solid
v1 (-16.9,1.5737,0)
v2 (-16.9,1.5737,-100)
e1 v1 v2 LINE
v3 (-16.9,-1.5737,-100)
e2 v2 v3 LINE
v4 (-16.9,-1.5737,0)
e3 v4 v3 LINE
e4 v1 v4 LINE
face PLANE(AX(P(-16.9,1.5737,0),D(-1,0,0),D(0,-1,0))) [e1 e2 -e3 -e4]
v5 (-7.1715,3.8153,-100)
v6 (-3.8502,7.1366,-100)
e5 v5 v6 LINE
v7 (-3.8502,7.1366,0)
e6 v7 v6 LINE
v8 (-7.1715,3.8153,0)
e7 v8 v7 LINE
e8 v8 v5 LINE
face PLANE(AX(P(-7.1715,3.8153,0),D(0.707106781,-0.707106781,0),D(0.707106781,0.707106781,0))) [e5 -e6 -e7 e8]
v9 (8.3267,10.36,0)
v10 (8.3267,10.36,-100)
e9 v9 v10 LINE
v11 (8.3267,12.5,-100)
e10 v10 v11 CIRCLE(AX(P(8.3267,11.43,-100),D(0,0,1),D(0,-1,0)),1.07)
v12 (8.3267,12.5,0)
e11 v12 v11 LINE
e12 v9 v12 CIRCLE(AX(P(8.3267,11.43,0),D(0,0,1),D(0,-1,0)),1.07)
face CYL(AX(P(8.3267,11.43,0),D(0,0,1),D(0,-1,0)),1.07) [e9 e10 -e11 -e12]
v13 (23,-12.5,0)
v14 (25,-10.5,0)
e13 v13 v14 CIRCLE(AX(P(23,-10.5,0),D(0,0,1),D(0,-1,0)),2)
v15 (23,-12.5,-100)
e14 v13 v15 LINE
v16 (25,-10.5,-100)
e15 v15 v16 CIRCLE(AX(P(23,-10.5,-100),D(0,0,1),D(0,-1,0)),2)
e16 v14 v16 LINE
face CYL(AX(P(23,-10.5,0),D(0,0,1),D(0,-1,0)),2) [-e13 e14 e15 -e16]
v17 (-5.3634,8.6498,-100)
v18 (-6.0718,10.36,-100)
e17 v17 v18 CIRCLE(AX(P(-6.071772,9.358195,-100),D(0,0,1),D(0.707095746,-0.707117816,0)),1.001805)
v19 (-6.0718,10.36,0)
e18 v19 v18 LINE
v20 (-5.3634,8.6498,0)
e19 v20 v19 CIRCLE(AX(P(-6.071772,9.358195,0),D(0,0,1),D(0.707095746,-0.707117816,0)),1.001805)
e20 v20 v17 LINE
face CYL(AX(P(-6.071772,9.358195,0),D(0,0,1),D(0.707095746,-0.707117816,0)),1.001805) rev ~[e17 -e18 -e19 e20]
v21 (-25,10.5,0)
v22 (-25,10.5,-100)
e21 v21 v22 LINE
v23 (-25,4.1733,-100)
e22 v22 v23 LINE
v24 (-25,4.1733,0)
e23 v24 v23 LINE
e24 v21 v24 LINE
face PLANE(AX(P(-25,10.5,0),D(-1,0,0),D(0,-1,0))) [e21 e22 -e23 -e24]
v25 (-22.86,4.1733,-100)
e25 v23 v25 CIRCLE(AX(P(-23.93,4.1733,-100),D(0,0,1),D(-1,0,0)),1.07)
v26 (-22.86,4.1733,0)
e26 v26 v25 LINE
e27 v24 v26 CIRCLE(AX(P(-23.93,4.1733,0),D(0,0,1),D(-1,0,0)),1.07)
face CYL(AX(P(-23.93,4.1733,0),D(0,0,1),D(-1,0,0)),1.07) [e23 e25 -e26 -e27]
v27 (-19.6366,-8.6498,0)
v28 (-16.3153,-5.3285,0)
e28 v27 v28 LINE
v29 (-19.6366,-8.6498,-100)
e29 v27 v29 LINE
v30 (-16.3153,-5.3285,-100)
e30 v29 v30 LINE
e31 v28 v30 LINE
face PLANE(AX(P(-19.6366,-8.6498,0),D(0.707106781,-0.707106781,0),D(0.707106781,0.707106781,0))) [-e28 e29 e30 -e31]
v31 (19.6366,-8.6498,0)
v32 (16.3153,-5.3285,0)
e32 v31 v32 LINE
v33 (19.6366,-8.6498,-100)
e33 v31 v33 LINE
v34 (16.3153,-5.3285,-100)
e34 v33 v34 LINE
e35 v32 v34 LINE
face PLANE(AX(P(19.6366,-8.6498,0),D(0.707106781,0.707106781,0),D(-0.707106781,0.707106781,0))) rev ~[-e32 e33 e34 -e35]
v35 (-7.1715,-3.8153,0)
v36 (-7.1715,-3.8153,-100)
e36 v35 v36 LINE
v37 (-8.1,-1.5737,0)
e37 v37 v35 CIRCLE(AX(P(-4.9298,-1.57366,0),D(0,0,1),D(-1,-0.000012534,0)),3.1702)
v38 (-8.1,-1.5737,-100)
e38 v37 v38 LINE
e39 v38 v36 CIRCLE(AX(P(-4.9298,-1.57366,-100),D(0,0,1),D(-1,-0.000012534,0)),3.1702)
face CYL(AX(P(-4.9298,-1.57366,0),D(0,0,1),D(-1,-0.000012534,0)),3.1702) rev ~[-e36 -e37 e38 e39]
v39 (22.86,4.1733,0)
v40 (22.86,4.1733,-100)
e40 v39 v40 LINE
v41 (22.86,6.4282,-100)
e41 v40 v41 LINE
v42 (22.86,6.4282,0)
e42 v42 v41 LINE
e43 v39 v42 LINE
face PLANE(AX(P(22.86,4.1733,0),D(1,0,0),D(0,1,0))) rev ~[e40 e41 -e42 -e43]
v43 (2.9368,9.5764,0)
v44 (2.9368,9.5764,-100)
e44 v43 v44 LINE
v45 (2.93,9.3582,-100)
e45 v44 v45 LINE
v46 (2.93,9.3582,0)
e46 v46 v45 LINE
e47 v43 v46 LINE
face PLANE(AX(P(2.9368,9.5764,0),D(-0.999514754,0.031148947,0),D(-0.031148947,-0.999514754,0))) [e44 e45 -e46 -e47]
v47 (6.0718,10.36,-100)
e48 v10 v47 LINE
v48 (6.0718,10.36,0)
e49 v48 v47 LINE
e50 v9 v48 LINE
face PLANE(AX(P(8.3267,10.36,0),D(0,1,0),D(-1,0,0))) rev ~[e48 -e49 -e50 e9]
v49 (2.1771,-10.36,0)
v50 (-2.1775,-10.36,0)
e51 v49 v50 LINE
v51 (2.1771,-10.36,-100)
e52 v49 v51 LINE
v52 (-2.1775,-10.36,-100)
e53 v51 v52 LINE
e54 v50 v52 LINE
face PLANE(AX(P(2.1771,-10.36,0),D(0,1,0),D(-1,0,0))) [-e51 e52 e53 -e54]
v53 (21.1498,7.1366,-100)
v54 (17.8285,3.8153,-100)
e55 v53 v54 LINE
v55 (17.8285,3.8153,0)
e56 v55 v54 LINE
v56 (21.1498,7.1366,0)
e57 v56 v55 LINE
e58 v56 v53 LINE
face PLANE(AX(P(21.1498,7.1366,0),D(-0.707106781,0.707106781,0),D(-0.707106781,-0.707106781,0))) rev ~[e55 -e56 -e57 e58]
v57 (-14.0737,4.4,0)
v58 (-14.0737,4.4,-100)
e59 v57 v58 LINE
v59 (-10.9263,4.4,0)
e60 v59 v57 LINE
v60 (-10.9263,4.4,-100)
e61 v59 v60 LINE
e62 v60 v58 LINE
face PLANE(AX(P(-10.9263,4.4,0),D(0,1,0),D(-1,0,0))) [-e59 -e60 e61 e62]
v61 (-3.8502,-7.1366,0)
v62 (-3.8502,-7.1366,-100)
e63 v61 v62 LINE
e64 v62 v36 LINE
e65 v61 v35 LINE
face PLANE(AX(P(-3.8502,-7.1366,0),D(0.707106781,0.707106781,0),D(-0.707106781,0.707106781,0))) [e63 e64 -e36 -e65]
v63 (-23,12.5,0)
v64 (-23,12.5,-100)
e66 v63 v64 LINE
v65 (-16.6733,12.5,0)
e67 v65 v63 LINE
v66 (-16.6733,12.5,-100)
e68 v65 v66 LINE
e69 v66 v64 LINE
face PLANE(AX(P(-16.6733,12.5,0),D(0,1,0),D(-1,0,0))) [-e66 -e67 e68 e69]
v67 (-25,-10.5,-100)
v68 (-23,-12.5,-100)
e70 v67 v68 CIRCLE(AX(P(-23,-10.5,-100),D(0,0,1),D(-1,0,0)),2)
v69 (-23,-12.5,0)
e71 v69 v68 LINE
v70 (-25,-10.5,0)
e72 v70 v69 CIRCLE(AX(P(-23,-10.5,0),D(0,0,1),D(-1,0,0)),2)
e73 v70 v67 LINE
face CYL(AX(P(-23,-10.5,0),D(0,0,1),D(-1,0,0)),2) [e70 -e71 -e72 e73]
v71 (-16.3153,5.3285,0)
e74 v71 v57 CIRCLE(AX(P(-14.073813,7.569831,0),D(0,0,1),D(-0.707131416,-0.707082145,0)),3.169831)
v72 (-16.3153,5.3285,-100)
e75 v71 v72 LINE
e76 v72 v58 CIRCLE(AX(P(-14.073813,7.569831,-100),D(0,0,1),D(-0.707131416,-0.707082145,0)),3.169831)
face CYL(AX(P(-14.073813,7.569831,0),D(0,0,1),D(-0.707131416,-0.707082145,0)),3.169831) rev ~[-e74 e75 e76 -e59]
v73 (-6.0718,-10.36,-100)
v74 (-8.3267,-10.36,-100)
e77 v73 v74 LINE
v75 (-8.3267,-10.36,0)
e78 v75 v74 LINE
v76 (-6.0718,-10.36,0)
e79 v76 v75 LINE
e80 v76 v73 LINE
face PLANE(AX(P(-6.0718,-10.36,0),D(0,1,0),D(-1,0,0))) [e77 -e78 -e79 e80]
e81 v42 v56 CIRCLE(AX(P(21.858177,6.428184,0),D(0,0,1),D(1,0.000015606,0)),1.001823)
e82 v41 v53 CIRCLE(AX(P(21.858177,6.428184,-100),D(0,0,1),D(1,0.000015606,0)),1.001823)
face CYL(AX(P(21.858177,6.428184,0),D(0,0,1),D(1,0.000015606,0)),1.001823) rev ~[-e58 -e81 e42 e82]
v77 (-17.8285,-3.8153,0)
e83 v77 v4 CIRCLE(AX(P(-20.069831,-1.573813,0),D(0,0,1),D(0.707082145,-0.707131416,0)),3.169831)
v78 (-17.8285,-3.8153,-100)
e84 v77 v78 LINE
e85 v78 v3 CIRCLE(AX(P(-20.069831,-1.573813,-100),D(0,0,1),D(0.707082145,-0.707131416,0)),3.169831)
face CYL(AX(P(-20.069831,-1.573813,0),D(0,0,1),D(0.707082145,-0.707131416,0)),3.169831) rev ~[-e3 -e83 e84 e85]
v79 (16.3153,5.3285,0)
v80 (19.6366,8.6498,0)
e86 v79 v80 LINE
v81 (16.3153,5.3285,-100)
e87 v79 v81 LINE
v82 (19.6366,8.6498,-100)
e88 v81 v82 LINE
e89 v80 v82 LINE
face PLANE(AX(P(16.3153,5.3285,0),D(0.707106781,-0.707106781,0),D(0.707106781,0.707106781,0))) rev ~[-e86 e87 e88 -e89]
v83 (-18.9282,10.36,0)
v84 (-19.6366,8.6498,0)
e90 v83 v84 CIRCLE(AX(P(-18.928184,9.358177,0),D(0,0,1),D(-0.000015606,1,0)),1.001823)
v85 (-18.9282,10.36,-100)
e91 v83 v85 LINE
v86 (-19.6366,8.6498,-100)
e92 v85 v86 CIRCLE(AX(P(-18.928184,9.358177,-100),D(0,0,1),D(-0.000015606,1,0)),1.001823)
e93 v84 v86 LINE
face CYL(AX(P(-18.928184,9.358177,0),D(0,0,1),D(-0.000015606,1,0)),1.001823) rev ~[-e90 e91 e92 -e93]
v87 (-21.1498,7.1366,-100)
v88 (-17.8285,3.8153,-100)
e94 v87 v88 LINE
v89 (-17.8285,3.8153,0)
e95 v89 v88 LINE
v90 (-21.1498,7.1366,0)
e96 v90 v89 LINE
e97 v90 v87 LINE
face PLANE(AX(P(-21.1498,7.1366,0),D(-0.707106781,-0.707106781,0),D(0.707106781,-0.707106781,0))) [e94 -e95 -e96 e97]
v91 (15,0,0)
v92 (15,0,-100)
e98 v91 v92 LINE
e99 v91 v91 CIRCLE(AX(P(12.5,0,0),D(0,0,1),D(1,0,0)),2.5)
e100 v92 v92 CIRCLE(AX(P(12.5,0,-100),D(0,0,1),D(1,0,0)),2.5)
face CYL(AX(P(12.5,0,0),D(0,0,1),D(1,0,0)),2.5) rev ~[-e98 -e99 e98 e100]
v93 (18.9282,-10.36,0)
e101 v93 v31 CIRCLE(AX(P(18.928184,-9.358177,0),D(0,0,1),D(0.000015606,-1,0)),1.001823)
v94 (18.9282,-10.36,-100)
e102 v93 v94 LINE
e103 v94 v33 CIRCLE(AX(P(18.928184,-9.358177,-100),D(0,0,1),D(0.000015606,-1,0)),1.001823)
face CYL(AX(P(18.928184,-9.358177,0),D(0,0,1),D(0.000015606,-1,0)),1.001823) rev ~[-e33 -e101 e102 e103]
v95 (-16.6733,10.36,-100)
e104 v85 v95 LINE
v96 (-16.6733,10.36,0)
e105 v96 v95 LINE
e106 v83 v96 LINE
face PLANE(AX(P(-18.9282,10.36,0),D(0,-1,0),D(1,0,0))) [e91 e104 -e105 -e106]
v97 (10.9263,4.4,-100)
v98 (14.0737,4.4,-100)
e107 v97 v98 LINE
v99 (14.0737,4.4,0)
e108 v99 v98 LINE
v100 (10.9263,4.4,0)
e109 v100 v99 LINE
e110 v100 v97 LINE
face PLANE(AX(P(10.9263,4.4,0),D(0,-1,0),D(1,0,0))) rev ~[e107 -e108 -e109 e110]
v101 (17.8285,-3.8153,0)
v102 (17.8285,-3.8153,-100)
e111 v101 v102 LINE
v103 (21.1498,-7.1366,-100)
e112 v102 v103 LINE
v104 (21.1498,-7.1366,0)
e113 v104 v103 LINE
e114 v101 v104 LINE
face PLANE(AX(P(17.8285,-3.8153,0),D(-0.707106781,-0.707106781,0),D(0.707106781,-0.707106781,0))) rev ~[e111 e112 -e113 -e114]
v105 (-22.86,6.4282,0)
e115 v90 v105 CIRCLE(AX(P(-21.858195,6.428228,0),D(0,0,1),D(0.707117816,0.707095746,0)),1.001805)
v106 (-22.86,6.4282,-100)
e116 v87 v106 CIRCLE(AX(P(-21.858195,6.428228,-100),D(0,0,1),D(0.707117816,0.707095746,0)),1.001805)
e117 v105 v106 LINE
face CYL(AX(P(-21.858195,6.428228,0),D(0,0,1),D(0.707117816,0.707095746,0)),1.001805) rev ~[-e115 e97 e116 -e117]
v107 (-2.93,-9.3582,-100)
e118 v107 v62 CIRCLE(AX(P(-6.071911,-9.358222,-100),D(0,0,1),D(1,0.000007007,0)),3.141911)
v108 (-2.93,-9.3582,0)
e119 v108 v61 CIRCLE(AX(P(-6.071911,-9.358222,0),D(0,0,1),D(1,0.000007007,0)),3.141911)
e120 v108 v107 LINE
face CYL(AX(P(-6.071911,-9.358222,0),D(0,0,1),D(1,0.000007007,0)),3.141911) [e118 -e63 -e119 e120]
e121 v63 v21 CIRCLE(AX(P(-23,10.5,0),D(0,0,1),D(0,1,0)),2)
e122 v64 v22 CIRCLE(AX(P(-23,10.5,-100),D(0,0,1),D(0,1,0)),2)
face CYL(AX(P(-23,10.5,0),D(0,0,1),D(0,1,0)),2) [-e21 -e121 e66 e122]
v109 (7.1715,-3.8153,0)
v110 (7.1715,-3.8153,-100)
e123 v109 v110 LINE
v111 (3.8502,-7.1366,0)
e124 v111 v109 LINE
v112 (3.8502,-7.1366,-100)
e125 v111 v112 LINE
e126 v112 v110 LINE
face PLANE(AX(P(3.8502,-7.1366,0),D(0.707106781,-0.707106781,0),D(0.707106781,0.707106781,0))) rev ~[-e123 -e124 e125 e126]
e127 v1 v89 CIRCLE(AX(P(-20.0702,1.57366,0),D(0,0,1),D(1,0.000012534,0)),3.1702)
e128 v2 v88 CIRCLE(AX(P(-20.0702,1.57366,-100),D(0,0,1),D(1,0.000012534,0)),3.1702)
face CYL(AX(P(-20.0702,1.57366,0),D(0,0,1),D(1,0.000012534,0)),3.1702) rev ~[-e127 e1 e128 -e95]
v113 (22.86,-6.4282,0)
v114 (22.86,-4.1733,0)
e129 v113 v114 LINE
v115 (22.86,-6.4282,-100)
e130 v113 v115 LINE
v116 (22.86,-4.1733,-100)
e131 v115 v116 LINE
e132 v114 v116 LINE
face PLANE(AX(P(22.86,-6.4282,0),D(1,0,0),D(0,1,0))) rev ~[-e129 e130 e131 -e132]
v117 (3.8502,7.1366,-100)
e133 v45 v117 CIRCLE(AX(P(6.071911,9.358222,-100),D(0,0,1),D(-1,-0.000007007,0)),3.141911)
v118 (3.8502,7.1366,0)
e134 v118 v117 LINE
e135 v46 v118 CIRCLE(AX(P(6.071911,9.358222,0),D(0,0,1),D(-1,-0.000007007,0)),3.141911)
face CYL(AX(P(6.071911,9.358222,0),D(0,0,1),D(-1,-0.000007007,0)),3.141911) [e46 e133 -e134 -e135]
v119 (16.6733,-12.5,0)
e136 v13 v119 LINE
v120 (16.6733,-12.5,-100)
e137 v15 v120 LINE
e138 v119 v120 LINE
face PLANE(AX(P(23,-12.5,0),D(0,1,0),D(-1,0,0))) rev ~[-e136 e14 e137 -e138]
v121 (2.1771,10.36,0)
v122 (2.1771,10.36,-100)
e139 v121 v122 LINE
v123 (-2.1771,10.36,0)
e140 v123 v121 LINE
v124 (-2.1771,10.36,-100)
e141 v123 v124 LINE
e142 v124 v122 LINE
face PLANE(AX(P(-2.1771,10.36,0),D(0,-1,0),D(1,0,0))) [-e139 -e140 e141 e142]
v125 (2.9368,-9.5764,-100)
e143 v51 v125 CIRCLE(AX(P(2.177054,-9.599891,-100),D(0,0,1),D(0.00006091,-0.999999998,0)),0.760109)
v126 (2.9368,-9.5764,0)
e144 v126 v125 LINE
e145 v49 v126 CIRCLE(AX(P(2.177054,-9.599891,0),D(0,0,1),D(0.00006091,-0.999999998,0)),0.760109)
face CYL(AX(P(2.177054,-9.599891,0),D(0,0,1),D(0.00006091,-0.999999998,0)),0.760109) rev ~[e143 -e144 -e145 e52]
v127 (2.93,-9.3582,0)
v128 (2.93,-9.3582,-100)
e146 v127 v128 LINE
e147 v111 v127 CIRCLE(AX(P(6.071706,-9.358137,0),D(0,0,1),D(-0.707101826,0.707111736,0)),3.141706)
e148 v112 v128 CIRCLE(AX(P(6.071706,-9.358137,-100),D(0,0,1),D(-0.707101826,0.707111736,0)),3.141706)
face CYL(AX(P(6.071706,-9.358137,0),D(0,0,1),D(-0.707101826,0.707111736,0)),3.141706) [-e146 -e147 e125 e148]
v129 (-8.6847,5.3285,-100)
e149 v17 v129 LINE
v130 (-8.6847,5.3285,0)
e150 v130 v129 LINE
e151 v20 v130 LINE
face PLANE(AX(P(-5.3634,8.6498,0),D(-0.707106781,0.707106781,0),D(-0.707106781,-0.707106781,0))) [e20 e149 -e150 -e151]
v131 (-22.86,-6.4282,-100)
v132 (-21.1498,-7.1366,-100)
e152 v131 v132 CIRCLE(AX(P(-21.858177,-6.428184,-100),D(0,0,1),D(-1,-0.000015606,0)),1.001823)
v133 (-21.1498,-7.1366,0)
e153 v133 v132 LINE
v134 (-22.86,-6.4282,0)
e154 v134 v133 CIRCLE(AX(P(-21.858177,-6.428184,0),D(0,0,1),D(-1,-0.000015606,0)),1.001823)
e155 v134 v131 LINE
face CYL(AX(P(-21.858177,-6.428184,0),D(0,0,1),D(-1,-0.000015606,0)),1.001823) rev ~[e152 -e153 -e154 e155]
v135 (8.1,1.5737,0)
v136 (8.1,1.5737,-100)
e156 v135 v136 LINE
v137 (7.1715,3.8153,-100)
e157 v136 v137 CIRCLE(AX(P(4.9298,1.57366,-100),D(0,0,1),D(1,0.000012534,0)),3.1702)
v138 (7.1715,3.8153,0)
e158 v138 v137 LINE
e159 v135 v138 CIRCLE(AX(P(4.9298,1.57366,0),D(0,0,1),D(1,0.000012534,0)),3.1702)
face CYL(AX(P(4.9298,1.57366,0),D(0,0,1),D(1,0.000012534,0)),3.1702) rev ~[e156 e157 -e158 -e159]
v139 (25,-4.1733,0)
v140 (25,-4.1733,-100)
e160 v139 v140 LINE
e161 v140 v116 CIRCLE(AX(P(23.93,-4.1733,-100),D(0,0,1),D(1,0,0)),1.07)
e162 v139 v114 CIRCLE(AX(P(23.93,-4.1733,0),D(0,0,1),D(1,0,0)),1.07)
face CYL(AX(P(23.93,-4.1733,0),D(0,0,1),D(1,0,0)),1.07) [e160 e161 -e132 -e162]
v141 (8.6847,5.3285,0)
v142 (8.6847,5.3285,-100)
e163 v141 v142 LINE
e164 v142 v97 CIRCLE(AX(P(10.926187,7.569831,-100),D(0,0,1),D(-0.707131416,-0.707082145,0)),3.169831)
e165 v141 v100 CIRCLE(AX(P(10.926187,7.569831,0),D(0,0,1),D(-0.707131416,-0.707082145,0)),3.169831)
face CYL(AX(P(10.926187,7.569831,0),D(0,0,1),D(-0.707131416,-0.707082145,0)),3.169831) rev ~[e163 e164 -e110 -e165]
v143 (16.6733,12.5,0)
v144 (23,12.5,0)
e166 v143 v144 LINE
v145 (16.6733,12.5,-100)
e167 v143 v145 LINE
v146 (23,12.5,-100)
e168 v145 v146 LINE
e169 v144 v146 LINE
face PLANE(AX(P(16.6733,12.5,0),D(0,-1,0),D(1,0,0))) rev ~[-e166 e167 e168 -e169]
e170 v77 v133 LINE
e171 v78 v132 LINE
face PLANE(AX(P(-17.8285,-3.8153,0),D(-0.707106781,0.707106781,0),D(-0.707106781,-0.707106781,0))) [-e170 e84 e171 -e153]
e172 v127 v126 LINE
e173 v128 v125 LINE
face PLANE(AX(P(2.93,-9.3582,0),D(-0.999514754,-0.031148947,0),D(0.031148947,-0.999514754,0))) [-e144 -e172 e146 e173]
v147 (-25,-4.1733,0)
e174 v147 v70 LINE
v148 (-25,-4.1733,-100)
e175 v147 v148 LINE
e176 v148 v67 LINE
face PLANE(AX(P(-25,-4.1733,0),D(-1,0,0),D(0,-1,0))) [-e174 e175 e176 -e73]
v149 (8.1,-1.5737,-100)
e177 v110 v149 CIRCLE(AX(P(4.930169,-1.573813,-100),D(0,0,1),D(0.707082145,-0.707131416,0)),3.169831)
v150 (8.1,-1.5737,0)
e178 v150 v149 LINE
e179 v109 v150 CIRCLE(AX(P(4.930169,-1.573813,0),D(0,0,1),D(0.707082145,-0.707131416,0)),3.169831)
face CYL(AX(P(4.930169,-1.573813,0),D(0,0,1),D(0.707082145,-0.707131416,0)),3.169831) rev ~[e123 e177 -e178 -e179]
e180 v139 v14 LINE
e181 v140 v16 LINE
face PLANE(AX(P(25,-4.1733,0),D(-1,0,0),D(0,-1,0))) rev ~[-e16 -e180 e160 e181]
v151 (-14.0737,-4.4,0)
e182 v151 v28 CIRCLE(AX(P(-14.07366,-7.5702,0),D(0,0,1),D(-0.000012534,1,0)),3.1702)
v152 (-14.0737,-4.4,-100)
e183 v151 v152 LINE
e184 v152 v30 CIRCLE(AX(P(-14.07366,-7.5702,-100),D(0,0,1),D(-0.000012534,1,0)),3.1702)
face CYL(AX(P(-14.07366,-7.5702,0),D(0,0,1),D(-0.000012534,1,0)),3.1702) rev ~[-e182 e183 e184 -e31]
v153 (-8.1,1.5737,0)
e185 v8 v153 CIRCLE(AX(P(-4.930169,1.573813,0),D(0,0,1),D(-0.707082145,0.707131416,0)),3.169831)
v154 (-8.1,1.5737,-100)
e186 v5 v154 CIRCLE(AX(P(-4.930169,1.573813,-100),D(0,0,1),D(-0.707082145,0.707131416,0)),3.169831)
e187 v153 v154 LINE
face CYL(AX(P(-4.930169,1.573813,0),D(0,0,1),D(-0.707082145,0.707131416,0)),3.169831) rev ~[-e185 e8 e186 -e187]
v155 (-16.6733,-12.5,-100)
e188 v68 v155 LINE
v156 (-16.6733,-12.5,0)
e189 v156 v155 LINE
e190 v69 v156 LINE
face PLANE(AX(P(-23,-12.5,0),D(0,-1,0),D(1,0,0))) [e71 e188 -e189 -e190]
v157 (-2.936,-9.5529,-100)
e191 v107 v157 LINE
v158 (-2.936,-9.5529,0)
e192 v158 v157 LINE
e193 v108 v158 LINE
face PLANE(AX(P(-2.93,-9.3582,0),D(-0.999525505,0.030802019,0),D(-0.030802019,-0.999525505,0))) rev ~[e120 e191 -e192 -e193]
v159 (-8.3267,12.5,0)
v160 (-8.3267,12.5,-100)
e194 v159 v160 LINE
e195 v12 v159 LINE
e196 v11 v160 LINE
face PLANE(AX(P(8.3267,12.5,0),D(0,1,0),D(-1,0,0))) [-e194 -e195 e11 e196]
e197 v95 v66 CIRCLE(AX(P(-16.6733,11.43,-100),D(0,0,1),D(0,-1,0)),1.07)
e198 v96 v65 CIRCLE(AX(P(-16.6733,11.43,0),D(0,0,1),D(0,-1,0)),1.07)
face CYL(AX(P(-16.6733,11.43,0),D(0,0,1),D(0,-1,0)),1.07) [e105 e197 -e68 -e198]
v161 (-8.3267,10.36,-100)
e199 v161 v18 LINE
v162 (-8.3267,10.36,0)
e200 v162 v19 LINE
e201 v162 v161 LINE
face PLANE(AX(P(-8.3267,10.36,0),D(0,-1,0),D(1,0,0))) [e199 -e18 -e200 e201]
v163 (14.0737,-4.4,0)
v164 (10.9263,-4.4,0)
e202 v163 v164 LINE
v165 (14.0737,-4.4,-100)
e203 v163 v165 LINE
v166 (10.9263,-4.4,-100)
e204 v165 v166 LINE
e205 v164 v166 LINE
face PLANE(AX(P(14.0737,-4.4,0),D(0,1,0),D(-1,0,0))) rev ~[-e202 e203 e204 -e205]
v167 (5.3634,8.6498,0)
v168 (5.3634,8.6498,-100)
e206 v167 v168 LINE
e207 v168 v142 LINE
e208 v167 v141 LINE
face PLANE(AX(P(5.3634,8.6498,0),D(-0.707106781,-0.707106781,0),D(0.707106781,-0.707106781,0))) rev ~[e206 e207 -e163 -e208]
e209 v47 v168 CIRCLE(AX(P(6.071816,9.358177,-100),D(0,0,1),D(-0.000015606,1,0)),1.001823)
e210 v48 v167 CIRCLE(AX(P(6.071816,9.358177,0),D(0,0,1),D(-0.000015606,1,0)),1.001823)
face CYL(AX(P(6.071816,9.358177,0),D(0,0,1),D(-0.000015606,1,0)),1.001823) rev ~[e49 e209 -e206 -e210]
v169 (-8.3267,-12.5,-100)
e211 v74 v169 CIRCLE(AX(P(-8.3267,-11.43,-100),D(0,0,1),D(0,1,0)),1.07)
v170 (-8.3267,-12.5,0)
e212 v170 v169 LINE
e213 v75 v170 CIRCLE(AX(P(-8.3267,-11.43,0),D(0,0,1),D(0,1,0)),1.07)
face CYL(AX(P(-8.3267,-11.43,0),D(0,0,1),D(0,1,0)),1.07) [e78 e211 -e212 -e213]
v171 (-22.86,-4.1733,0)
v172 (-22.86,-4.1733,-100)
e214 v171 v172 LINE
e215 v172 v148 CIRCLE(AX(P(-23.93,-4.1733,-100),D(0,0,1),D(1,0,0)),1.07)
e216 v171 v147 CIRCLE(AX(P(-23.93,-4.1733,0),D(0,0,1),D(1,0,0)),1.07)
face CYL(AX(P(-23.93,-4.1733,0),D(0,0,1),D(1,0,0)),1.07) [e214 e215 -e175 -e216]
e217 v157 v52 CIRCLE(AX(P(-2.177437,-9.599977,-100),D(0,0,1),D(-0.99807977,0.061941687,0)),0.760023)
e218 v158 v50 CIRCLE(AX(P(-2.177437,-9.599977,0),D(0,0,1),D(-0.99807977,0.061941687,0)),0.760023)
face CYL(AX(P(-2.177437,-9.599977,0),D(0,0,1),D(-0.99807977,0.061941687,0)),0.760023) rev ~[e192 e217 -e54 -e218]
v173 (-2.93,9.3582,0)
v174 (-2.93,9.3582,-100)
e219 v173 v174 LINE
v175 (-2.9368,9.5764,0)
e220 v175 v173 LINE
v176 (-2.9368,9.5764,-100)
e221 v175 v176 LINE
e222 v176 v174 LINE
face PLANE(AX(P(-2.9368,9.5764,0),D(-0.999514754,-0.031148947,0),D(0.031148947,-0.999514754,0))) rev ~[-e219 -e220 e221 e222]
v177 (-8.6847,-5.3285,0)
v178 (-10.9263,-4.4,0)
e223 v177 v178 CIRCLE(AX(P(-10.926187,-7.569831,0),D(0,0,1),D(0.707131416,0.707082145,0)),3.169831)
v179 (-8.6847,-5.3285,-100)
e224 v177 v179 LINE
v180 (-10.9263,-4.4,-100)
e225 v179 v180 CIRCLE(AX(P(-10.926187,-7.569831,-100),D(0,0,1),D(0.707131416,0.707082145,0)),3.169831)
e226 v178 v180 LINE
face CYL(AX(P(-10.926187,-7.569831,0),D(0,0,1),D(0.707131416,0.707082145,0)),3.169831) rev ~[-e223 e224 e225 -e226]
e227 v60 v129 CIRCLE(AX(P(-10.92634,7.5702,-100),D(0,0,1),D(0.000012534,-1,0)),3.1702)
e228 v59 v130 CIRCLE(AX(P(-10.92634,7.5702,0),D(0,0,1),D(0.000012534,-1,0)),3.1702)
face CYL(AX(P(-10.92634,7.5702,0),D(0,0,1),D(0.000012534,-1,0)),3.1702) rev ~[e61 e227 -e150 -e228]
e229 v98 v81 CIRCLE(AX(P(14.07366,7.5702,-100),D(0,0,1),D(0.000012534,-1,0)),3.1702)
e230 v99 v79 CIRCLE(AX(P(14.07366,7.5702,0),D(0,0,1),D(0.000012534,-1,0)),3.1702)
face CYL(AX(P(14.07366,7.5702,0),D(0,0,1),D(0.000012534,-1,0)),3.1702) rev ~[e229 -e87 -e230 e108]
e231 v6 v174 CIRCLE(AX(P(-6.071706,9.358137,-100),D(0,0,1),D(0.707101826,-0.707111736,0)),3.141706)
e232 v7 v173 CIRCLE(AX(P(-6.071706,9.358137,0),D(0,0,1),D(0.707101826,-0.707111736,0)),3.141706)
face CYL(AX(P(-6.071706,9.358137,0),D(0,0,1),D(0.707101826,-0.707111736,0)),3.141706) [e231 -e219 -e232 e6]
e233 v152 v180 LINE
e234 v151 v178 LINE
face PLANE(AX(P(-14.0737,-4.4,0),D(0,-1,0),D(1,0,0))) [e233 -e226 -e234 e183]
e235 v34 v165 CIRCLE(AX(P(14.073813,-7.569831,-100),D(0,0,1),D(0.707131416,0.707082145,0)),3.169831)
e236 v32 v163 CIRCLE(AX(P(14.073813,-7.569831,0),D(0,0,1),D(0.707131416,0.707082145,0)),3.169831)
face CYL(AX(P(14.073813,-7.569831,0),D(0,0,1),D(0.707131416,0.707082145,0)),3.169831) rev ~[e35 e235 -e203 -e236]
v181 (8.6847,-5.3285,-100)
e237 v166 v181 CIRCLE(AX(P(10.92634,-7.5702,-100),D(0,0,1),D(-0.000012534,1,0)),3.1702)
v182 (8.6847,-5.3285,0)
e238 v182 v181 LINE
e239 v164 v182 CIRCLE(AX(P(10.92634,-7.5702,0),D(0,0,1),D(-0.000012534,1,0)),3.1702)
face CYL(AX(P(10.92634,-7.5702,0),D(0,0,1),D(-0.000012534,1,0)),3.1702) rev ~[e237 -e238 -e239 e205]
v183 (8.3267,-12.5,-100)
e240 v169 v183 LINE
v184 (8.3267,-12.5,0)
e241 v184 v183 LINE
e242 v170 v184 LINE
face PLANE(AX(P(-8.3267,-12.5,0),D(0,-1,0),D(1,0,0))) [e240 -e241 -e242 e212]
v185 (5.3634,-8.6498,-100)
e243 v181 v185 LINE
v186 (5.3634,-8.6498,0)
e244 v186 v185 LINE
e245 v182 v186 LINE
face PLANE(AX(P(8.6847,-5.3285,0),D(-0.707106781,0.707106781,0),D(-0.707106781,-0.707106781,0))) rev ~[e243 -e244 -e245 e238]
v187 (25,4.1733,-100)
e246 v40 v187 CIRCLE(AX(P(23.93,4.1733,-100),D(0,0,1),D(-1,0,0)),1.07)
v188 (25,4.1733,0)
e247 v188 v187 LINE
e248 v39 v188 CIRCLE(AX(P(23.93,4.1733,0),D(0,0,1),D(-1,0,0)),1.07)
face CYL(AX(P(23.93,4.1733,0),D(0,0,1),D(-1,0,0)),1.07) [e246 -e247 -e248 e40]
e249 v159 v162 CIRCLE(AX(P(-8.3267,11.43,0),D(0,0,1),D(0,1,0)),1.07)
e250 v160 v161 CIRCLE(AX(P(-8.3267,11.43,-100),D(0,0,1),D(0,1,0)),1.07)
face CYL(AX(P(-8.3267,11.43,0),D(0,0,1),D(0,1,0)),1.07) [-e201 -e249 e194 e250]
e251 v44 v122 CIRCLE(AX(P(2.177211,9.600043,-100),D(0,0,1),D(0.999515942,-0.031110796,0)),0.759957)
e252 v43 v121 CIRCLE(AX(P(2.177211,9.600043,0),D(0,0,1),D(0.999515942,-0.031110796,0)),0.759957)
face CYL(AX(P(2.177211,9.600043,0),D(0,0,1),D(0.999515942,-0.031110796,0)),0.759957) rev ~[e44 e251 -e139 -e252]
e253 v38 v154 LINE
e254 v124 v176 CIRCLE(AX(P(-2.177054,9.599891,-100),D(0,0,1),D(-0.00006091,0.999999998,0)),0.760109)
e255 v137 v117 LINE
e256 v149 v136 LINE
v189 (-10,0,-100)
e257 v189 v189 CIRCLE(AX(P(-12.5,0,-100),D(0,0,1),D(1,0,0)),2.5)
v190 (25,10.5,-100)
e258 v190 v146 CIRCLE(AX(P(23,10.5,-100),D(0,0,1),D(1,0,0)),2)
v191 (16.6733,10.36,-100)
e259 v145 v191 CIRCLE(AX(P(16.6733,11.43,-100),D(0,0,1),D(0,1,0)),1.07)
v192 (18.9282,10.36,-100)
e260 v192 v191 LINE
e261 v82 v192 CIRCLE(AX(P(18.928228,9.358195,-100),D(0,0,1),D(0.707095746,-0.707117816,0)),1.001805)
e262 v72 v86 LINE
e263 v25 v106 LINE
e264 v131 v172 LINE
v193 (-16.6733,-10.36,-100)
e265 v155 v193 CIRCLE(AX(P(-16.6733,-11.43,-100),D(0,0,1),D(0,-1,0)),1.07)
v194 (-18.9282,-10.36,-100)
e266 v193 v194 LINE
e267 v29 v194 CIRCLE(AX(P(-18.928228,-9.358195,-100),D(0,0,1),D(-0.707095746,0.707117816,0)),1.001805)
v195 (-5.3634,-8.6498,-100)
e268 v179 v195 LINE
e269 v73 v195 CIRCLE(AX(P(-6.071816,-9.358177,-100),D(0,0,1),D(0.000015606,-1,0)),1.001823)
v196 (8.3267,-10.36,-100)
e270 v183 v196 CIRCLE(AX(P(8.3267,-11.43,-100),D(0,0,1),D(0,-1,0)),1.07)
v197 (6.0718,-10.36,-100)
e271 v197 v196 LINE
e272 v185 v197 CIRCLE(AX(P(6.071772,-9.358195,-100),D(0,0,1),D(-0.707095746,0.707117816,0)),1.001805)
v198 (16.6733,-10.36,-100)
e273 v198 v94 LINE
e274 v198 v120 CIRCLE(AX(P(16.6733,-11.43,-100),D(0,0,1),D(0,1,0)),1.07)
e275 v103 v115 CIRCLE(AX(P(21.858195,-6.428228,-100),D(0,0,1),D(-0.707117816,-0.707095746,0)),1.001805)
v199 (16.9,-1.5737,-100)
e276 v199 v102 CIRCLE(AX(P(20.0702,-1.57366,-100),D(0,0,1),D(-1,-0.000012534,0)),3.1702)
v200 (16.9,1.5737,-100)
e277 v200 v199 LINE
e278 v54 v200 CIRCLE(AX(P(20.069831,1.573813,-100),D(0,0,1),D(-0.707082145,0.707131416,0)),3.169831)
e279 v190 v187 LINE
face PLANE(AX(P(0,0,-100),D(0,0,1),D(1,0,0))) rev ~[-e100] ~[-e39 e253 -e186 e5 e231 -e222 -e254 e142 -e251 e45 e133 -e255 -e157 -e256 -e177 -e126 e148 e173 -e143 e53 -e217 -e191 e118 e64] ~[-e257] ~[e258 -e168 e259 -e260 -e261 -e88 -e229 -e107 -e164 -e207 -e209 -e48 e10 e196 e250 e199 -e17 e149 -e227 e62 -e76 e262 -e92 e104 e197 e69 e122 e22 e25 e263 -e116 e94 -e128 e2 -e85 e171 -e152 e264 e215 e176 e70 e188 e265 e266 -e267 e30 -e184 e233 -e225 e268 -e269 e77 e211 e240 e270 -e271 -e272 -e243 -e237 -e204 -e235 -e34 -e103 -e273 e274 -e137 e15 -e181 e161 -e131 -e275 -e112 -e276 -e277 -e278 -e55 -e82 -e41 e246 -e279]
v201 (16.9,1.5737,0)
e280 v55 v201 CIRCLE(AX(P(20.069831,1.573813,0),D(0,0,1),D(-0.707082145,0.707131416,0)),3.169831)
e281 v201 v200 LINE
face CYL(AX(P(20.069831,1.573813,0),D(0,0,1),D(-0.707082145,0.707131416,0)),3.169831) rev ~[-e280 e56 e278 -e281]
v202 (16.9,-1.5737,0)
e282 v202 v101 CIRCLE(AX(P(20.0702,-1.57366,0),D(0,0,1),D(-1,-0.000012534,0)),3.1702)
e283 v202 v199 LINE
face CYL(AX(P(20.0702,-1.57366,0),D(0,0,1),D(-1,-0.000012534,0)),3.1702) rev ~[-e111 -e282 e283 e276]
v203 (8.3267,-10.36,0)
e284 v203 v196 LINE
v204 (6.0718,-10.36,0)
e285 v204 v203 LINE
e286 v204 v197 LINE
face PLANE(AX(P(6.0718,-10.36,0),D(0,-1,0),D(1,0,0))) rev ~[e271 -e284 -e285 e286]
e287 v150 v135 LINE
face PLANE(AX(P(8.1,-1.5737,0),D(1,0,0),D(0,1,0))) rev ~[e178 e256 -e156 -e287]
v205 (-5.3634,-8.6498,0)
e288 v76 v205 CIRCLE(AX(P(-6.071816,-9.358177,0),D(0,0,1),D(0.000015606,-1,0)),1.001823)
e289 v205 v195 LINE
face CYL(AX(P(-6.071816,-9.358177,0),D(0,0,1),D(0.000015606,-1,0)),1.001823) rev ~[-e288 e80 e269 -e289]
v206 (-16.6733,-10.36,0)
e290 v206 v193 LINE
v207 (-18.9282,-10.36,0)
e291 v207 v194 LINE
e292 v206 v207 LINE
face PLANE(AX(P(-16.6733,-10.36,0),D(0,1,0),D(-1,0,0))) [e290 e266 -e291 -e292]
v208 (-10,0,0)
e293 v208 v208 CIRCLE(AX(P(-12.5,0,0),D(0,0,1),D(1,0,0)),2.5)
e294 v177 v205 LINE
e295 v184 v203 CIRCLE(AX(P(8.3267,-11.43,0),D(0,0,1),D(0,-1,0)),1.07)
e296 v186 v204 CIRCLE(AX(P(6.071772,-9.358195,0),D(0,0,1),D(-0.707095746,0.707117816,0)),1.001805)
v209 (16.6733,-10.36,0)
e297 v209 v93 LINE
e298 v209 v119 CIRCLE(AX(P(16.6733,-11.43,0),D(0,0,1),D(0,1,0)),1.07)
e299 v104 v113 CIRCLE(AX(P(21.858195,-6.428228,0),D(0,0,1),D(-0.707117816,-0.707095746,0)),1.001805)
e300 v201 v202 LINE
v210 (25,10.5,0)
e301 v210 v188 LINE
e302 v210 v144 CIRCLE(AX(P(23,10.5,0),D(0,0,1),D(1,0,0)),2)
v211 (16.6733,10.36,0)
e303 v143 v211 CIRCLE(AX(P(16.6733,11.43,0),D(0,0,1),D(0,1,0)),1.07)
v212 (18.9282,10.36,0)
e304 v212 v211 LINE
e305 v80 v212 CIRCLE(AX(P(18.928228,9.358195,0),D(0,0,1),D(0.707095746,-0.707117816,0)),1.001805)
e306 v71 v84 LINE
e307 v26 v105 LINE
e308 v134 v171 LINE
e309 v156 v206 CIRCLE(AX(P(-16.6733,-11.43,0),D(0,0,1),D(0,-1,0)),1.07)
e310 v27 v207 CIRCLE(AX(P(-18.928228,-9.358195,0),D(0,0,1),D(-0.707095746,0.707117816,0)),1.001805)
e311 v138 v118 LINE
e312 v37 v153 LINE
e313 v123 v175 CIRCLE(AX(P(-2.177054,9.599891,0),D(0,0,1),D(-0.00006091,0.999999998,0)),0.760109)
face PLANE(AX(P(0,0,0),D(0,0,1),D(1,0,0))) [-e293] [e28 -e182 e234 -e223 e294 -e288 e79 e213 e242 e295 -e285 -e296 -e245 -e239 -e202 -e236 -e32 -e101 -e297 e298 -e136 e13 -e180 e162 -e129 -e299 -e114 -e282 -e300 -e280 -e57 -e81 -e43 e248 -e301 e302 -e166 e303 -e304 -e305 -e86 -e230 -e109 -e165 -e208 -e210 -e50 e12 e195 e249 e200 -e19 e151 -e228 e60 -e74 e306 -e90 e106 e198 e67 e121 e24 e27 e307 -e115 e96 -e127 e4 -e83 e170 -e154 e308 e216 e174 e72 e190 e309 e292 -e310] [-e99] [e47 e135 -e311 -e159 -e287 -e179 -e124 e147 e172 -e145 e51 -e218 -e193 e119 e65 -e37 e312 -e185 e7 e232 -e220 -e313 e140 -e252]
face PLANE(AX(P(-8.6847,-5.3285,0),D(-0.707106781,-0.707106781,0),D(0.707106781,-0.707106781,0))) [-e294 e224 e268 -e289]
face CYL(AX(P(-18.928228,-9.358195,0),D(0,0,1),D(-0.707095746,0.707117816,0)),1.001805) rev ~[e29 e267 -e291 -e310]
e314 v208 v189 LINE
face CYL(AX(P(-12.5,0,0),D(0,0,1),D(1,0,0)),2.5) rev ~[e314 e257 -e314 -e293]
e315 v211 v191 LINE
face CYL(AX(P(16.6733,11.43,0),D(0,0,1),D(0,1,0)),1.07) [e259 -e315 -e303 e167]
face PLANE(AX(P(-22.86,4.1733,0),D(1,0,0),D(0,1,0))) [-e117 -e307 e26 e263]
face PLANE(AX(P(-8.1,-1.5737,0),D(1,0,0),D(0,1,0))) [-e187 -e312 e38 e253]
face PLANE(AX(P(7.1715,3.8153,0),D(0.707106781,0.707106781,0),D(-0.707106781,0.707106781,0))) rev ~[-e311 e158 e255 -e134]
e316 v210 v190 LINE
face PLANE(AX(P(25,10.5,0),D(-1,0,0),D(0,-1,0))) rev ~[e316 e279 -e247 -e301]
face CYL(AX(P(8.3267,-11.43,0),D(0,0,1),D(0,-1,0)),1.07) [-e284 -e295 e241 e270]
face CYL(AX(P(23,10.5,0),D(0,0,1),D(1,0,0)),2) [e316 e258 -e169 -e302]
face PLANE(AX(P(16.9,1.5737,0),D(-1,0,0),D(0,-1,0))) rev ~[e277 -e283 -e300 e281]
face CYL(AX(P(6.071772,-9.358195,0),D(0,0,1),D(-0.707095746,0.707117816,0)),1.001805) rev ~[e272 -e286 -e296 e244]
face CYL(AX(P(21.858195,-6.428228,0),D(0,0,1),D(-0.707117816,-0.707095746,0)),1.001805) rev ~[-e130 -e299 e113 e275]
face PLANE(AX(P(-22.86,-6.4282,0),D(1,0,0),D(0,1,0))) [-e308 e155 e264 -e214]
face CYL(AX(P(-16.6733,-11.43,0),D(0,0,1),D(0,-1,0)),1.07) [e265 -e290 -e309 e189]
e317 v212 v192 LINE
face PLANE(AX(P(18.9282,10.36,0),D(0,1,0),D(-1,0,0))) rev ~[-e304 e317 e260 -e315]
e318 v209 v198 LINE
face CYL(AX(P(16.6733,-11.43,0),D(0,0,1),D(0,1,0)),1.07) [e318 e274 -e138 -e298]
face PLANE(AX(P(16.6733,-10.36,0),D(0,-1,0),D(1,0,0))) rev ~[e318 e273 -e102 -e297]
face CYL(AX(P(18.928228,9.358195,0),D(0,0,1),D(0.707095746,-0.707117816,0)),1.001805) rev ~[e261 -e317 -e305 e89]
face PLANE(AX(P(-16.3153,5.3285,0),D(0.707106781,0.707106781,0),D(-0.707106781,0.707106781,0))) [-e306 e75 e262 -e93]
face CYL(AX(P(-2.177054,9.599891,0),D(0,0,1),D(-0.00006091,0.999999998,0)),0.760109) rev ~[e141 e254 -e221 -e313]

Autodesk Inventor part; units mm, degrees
ref_plane "YZ Plane" through (0, 0, 0) normal (1, 0, 0) x (0, 1, 0)
ref_plane "XZ Plane" through (0, 0, 0) normal (0, 1, 0) x (-1, 0, 0)
ref_plane "XY Plane" through (0, 0, 0) normal (0, 0, 1) x (1, 0, 0)
sketch "Sketch1" plane through (0, 0, 0) normal (0, 0, 1) x (1, 0, 0)
  arc A0 (2.9368, 9.5764) -> (2.1771, 10.36) centre (2.1771, 9.6) ccw
  line L0 (2.9368, 9.5764) -> (2.93, 9.3582)
  arc A1 (2.93, 9.3582) -> (3.8502, 7.1366) centre (6.0718, 9.3582) ccw
  line L1 (7.1715, 3.8153) -> (3.8502, 7.1366)
  arc A2 (8.1, 1.5737) -> (7.1715, 3.8153) centre (4.93, 1.5737) ccw
  line L2 (8.1, -1.5737) -> (8.1, 1.5737)
  arc A3 (7.1715, -3.8153) -> (8.1, -1.5737) centre (4.93, -1.5737) ccw
  line L3 (3.8502, -7.1366) -> (7.1715, -3.8153)
  arc A4 (3.8502, -7.1366) -> (2.93, -9.3582) centre (6.0718, -9.3582) ccw
  line L4 (2.93, -9.3582) -> (2.9368, -9.5764)
  arc A5 (2.1771, -10.36) -> (2.9368, -9.5764) centre (2.1771, -9.6) ccw
  line L5 (2.1771, -10.36) -> (-2.1775, -10.36)
  arc A6 (-2.936, -9.5529) -> (-2.1775, -10.36) centre (-2.1775, -9.6) ccw
  line L6 (-2.93, -9.3582) -> (-2.936, -9.5529)
  arc A7 (-2.93, -9.3582) -> (-3.8502, -7.1366) centre (-6.0718, -9.3582) ccw
  line L7 (-3.8502, -7.1366) -> (-7.1715, -3.8153)
  arc A8 (-8.1, -1.5737) -> (-7.1715, -3.8153) centre (-4.93, -1.5737) ccw
  line L8 (-8.1, -1.5737) -> (-8.1, 1.5737)
  arc A9 (-7.1715, 3.8153) -> (-8.1, 1.5737) centre (-4.93, 1.5737) ccw
  line L9 (-7.1715, 3.8153) -> (-3.8502, 7.1366)
  arc A10 (-3.8502, 7.1366) -> (-2.93, 9.3582) centre (-6.0718, 9.3582) ccw
  line L10 (-2.9368, 9.5764) -> (-2.93, 9.3582)
  arc A11 (-2.1771, 10.36) -> (-2.9368, 9.5764) centre (-2.1771, 9.6) ccw
  line L11 (-2.1771, 10.36) -> (2.1771, 10.36)
  circle A12 centre (-12.5, 0) radius 2.5
  circle A13 centre (12.5, 0) radius 2.5
  line L12 (25, 10.5) -> (25, 4.1733)
  arc A14 (25, 10.5) -> (23, 12.5) centre (23, 10.5) ccw
  line L13 (16.6733, 12.5) -> (23, 12.5)
  arc A15 (16.6733, 12.5) -> (16.6733, 10.36) centre (16.6733, 11.43) ccw
  line L14 (18.9282, 10.36) -> (16.6733, 10.36)
  arc A16 (19.6366, 8.6498) -> (18.9282, 10.36) centre (18.9282, 9.3582) ccw
  line L15 (16.3153, 5.3285) -> (19.6366, 8.6498)
  arc A17 (14.0737, 4.4) -> (16.3153, 5.3285) centre (14.0737, 7.57) ccw
  line L16 (10.9263, 4.4) -> (14.0737, 4.4)
  arc A18 (8.6847, 5.3285) -> (10.9263, 4.4) centre (10.9263, 7.57) ccw
  line L17 (5.3634, 8.6498) -> (8.6847, 5.3285)
  arc A19 (6.0718, 10.36) -> (5.3634, 8.6498) centre (6.0718, 9.3582) ccw
  line L18 (8.3267, 10.36) -> (6.0718, 10.36)
  arc A20 (8.3267, 10.36) -> (8.3267, 12.5) centre (8.3267, 11.43) ccw
  line L19 (8.3267, 12.5) -> (-8.3267, 12.5)
  arc A21 (-8.3267, 12.5) -> (-8.3267, 10.36) centre (-8.3267, 11.43) ccw
  line L20 (-8.3267, 10.36) -> (-6.0718, 10.36)
  arc A22 (-5.3634, 8.6498) -> (-6.0718, 10.36) centre (-6.0718, 9.3582) ccw
  line L21 (-5.3634, 8.6498) -> (-8.6847, 5.3285)
  arc A23 (-10.9263, 4.4) -> (-8.6847, 5.3285) centre (-10.9263, 7.57) ccw
  line L22 (-10.9263, 4.4) -> (-14.0737, 4.4)
  arc A24 (-16.3153, 5.3285) -> (-14.0737, 4.4) centre (-14.0737, 7.57) ccw
  line L23 (-16.3153, 5.3285) -> (-19.6366, 8.6498)
  arc A25 (-18.9282, 10.36) -> (-19.6366, 8.6498) centre (-18.9282, 9.3582) ccw
  line L24 (-18.9282, 10.36) -> (-16.6733, 10.36)
  arc A26 (-16.6733, 10.36) -> (-16.6733, 12.5) centre (-16.6733, 11.43) ccw
  line L25 (-16.6733, 12.5) -> (-23, 12.5)
  arc A27 (-23, 12.5) -> (-25, 10.5) centre (-23, 10.5) ccw
  line L26 (-25, 10.5) -> (-25, 4.1733)
  arc A28 (-25, 4.1733) -> (-22.86, 4.1733) centre (-23.93, 4.1733) ccw
  line L27 (-22.86, 4.1733) -> (-22.86, 6.4282)
  arc A29 (-21.1498, 7.1366) -> (-22.86, 6.4282) centre (-21.8582, 6.4282) ccw
  line L28 (-21.1498, 7.1366) -> (-17.8285, 3.8153)
  arc A30 (-16.9, 1.5737) -> (-17.8285, 3.8153) centre (-20.07, 1.5737) ccw
  line L29 (-16.9, 1.5737) -> (-16.9, -1.5737)
  arc A31 (-17.8285, -3.8153) -> (-16.9, -1.5737) centre (-20.07, -1.5737) ccw
  line L30 (-17.8285, -3.8153) -> (-21.1498, -7.1366)
  arc A32 (-22.86, -6.4282) -> (-21.1498, -7.1366) centre (-21.8582, -6.4282) ccw
  line L31 (-22.86, -6.4282) -> (-22.86, -4.1733)
  arc A33 (-22.86, -4.1733) -> (-25, -4.1733) centre (-23.93, -4.1733) ccw
  line L32 (-25, -4.1733) -> (-25, -10.5)
  arc A34 (-25, -10.5) -> (-23, -12.5) centre (-23, -10.5) ccw
  line L33 (-23, -12.5) -> (-16.6733, -12.5)
  arc A35 (-16.6733, -12.5) -> (-16.6733, -10.36) centre (-16.6733, -11.43) ccw
  line L34 (-16.6733, -10.36) -> (-18.9282, -10.36)
  arc A36 (-19.6366, -8.6498) -> (-18.9282, -10.36) centre (-18.9282, -9.3582) ccw
  line L35 (-19.6366, -8.6498) -> (-16.3153, -5.3285)
  arc A37 (-14.0737, -4.4) -> (-16.3153, -5.3285) centre (-14.0737, -7.57) ccw
  line L36 (-14.0737, -4.4) -> (-10.9263, -4.4)
  arc A38 (-8.6847, -5.3285) -> (-10.9263, -4.4) centre (-10.9263, -7.57) ccw
  line L37 (-8.6847, -5.3285) -> (-5.3634, -8.6498)
  arc A39 (-6.0718, -10.36) -> (-5.3634, -8.6498) centre (-6.0718, -9.3582) ccw
  line L38 (-6.0718, -10.36) -> (-8.3267, -10.36)
  arc A40 (-8.3267, -10.36) -> (-8.3267, -12.5) centre (-8.3267, -11.43) ccw
  line L39 (-8.3267, -12.5) -> (8.3267, -12.5)
  arc A41 (8.3267, -12.5) -> (8.3267, -10.36) centre (8.3267, -11.43) ccw
  line L40 (6.0718, -10.36) -> (8.3267, -10.36)
  arc A42 (5.3634, -8.6498) -> (6.0718, -10.36) centre (6.0718, -9.3582) ccw
  line L41 (8.6847, -5.3285) -> (5.3634, -8.6498)
  arc A43 (10.9263, -4.4) -> (8.6847, -5.3285) centre (10.9263, -7.57) ccw
  line L42 (14.0737, -4.4) -> (10.9263, -4.4)
  arc A44 (16.3153, -5.3285) -> (14.0737, -4.4) centre (14.0737, -7.57) ccw
  line L43 (19.6366, -8.6498) -> (16.3153, -5.3285)
  arc A45 (18.9282, -10.36) -> (19.6366, -8.6498) centre (18.9282, -9.3582) ccw
  line L44 (16.6733, -10.36) -> (18.9282, -10.36)
  arc A46 (16.6733, -10.36) -> (16.6733, -12.5) centre (16.6733, -11.43) ccw
  line L45 (23, -12.5) -> (16.6733, -12.5)
  arc A47 (23, -12.5) -> (25, -10.5) centre (23, -10.5) ccw
  line L46 (25, -4.1733) -> (25, -10.5)
  arc A48 (25, -4.1733) -> (22.86, -4.1733) centre (23.93, -4.1733) ccw
  line L47 (22.86, -6.4282) -> (22.86, -4.1733)
  arc A49 (21.1498, -7.1366) -> (22.86, -6.4282) centre (21.8582, -6.4282) ccw
  line L48 (17.8285, -3.8153) -> (21.1498, -7.1366)
  arc A50 (16.9, -1.5737) -> (17.8285, -3.8153) centre (20.07, -1.5737) ccw
  line L49 (16.9, 1.5737) -> (16.9, -1.5737)
  arc A51 (17.8285, 3.8153) -> (16.9, 1.5737) centre (20.07, 1.5737) ccw
  line L50 (21.1498, 7.1366) -> (17.8285, 3.8153)
  arc A52 (22.86, 6.4282) -> (21.1498, 7.1366) centre (21.8582, 6.4282) ccw
  line L51 (22.86, 4.1733) -> (22.86, 6.4282)
  arc A53 (22.86, 4.1733) -> (25, 4.1733) centre (23.93, 4.1733) ccw
  point P0 (0, 0)
extrude "Extrusion1" add sketch "Sketch1" against normal blind 100
properties part number "25-2550"
